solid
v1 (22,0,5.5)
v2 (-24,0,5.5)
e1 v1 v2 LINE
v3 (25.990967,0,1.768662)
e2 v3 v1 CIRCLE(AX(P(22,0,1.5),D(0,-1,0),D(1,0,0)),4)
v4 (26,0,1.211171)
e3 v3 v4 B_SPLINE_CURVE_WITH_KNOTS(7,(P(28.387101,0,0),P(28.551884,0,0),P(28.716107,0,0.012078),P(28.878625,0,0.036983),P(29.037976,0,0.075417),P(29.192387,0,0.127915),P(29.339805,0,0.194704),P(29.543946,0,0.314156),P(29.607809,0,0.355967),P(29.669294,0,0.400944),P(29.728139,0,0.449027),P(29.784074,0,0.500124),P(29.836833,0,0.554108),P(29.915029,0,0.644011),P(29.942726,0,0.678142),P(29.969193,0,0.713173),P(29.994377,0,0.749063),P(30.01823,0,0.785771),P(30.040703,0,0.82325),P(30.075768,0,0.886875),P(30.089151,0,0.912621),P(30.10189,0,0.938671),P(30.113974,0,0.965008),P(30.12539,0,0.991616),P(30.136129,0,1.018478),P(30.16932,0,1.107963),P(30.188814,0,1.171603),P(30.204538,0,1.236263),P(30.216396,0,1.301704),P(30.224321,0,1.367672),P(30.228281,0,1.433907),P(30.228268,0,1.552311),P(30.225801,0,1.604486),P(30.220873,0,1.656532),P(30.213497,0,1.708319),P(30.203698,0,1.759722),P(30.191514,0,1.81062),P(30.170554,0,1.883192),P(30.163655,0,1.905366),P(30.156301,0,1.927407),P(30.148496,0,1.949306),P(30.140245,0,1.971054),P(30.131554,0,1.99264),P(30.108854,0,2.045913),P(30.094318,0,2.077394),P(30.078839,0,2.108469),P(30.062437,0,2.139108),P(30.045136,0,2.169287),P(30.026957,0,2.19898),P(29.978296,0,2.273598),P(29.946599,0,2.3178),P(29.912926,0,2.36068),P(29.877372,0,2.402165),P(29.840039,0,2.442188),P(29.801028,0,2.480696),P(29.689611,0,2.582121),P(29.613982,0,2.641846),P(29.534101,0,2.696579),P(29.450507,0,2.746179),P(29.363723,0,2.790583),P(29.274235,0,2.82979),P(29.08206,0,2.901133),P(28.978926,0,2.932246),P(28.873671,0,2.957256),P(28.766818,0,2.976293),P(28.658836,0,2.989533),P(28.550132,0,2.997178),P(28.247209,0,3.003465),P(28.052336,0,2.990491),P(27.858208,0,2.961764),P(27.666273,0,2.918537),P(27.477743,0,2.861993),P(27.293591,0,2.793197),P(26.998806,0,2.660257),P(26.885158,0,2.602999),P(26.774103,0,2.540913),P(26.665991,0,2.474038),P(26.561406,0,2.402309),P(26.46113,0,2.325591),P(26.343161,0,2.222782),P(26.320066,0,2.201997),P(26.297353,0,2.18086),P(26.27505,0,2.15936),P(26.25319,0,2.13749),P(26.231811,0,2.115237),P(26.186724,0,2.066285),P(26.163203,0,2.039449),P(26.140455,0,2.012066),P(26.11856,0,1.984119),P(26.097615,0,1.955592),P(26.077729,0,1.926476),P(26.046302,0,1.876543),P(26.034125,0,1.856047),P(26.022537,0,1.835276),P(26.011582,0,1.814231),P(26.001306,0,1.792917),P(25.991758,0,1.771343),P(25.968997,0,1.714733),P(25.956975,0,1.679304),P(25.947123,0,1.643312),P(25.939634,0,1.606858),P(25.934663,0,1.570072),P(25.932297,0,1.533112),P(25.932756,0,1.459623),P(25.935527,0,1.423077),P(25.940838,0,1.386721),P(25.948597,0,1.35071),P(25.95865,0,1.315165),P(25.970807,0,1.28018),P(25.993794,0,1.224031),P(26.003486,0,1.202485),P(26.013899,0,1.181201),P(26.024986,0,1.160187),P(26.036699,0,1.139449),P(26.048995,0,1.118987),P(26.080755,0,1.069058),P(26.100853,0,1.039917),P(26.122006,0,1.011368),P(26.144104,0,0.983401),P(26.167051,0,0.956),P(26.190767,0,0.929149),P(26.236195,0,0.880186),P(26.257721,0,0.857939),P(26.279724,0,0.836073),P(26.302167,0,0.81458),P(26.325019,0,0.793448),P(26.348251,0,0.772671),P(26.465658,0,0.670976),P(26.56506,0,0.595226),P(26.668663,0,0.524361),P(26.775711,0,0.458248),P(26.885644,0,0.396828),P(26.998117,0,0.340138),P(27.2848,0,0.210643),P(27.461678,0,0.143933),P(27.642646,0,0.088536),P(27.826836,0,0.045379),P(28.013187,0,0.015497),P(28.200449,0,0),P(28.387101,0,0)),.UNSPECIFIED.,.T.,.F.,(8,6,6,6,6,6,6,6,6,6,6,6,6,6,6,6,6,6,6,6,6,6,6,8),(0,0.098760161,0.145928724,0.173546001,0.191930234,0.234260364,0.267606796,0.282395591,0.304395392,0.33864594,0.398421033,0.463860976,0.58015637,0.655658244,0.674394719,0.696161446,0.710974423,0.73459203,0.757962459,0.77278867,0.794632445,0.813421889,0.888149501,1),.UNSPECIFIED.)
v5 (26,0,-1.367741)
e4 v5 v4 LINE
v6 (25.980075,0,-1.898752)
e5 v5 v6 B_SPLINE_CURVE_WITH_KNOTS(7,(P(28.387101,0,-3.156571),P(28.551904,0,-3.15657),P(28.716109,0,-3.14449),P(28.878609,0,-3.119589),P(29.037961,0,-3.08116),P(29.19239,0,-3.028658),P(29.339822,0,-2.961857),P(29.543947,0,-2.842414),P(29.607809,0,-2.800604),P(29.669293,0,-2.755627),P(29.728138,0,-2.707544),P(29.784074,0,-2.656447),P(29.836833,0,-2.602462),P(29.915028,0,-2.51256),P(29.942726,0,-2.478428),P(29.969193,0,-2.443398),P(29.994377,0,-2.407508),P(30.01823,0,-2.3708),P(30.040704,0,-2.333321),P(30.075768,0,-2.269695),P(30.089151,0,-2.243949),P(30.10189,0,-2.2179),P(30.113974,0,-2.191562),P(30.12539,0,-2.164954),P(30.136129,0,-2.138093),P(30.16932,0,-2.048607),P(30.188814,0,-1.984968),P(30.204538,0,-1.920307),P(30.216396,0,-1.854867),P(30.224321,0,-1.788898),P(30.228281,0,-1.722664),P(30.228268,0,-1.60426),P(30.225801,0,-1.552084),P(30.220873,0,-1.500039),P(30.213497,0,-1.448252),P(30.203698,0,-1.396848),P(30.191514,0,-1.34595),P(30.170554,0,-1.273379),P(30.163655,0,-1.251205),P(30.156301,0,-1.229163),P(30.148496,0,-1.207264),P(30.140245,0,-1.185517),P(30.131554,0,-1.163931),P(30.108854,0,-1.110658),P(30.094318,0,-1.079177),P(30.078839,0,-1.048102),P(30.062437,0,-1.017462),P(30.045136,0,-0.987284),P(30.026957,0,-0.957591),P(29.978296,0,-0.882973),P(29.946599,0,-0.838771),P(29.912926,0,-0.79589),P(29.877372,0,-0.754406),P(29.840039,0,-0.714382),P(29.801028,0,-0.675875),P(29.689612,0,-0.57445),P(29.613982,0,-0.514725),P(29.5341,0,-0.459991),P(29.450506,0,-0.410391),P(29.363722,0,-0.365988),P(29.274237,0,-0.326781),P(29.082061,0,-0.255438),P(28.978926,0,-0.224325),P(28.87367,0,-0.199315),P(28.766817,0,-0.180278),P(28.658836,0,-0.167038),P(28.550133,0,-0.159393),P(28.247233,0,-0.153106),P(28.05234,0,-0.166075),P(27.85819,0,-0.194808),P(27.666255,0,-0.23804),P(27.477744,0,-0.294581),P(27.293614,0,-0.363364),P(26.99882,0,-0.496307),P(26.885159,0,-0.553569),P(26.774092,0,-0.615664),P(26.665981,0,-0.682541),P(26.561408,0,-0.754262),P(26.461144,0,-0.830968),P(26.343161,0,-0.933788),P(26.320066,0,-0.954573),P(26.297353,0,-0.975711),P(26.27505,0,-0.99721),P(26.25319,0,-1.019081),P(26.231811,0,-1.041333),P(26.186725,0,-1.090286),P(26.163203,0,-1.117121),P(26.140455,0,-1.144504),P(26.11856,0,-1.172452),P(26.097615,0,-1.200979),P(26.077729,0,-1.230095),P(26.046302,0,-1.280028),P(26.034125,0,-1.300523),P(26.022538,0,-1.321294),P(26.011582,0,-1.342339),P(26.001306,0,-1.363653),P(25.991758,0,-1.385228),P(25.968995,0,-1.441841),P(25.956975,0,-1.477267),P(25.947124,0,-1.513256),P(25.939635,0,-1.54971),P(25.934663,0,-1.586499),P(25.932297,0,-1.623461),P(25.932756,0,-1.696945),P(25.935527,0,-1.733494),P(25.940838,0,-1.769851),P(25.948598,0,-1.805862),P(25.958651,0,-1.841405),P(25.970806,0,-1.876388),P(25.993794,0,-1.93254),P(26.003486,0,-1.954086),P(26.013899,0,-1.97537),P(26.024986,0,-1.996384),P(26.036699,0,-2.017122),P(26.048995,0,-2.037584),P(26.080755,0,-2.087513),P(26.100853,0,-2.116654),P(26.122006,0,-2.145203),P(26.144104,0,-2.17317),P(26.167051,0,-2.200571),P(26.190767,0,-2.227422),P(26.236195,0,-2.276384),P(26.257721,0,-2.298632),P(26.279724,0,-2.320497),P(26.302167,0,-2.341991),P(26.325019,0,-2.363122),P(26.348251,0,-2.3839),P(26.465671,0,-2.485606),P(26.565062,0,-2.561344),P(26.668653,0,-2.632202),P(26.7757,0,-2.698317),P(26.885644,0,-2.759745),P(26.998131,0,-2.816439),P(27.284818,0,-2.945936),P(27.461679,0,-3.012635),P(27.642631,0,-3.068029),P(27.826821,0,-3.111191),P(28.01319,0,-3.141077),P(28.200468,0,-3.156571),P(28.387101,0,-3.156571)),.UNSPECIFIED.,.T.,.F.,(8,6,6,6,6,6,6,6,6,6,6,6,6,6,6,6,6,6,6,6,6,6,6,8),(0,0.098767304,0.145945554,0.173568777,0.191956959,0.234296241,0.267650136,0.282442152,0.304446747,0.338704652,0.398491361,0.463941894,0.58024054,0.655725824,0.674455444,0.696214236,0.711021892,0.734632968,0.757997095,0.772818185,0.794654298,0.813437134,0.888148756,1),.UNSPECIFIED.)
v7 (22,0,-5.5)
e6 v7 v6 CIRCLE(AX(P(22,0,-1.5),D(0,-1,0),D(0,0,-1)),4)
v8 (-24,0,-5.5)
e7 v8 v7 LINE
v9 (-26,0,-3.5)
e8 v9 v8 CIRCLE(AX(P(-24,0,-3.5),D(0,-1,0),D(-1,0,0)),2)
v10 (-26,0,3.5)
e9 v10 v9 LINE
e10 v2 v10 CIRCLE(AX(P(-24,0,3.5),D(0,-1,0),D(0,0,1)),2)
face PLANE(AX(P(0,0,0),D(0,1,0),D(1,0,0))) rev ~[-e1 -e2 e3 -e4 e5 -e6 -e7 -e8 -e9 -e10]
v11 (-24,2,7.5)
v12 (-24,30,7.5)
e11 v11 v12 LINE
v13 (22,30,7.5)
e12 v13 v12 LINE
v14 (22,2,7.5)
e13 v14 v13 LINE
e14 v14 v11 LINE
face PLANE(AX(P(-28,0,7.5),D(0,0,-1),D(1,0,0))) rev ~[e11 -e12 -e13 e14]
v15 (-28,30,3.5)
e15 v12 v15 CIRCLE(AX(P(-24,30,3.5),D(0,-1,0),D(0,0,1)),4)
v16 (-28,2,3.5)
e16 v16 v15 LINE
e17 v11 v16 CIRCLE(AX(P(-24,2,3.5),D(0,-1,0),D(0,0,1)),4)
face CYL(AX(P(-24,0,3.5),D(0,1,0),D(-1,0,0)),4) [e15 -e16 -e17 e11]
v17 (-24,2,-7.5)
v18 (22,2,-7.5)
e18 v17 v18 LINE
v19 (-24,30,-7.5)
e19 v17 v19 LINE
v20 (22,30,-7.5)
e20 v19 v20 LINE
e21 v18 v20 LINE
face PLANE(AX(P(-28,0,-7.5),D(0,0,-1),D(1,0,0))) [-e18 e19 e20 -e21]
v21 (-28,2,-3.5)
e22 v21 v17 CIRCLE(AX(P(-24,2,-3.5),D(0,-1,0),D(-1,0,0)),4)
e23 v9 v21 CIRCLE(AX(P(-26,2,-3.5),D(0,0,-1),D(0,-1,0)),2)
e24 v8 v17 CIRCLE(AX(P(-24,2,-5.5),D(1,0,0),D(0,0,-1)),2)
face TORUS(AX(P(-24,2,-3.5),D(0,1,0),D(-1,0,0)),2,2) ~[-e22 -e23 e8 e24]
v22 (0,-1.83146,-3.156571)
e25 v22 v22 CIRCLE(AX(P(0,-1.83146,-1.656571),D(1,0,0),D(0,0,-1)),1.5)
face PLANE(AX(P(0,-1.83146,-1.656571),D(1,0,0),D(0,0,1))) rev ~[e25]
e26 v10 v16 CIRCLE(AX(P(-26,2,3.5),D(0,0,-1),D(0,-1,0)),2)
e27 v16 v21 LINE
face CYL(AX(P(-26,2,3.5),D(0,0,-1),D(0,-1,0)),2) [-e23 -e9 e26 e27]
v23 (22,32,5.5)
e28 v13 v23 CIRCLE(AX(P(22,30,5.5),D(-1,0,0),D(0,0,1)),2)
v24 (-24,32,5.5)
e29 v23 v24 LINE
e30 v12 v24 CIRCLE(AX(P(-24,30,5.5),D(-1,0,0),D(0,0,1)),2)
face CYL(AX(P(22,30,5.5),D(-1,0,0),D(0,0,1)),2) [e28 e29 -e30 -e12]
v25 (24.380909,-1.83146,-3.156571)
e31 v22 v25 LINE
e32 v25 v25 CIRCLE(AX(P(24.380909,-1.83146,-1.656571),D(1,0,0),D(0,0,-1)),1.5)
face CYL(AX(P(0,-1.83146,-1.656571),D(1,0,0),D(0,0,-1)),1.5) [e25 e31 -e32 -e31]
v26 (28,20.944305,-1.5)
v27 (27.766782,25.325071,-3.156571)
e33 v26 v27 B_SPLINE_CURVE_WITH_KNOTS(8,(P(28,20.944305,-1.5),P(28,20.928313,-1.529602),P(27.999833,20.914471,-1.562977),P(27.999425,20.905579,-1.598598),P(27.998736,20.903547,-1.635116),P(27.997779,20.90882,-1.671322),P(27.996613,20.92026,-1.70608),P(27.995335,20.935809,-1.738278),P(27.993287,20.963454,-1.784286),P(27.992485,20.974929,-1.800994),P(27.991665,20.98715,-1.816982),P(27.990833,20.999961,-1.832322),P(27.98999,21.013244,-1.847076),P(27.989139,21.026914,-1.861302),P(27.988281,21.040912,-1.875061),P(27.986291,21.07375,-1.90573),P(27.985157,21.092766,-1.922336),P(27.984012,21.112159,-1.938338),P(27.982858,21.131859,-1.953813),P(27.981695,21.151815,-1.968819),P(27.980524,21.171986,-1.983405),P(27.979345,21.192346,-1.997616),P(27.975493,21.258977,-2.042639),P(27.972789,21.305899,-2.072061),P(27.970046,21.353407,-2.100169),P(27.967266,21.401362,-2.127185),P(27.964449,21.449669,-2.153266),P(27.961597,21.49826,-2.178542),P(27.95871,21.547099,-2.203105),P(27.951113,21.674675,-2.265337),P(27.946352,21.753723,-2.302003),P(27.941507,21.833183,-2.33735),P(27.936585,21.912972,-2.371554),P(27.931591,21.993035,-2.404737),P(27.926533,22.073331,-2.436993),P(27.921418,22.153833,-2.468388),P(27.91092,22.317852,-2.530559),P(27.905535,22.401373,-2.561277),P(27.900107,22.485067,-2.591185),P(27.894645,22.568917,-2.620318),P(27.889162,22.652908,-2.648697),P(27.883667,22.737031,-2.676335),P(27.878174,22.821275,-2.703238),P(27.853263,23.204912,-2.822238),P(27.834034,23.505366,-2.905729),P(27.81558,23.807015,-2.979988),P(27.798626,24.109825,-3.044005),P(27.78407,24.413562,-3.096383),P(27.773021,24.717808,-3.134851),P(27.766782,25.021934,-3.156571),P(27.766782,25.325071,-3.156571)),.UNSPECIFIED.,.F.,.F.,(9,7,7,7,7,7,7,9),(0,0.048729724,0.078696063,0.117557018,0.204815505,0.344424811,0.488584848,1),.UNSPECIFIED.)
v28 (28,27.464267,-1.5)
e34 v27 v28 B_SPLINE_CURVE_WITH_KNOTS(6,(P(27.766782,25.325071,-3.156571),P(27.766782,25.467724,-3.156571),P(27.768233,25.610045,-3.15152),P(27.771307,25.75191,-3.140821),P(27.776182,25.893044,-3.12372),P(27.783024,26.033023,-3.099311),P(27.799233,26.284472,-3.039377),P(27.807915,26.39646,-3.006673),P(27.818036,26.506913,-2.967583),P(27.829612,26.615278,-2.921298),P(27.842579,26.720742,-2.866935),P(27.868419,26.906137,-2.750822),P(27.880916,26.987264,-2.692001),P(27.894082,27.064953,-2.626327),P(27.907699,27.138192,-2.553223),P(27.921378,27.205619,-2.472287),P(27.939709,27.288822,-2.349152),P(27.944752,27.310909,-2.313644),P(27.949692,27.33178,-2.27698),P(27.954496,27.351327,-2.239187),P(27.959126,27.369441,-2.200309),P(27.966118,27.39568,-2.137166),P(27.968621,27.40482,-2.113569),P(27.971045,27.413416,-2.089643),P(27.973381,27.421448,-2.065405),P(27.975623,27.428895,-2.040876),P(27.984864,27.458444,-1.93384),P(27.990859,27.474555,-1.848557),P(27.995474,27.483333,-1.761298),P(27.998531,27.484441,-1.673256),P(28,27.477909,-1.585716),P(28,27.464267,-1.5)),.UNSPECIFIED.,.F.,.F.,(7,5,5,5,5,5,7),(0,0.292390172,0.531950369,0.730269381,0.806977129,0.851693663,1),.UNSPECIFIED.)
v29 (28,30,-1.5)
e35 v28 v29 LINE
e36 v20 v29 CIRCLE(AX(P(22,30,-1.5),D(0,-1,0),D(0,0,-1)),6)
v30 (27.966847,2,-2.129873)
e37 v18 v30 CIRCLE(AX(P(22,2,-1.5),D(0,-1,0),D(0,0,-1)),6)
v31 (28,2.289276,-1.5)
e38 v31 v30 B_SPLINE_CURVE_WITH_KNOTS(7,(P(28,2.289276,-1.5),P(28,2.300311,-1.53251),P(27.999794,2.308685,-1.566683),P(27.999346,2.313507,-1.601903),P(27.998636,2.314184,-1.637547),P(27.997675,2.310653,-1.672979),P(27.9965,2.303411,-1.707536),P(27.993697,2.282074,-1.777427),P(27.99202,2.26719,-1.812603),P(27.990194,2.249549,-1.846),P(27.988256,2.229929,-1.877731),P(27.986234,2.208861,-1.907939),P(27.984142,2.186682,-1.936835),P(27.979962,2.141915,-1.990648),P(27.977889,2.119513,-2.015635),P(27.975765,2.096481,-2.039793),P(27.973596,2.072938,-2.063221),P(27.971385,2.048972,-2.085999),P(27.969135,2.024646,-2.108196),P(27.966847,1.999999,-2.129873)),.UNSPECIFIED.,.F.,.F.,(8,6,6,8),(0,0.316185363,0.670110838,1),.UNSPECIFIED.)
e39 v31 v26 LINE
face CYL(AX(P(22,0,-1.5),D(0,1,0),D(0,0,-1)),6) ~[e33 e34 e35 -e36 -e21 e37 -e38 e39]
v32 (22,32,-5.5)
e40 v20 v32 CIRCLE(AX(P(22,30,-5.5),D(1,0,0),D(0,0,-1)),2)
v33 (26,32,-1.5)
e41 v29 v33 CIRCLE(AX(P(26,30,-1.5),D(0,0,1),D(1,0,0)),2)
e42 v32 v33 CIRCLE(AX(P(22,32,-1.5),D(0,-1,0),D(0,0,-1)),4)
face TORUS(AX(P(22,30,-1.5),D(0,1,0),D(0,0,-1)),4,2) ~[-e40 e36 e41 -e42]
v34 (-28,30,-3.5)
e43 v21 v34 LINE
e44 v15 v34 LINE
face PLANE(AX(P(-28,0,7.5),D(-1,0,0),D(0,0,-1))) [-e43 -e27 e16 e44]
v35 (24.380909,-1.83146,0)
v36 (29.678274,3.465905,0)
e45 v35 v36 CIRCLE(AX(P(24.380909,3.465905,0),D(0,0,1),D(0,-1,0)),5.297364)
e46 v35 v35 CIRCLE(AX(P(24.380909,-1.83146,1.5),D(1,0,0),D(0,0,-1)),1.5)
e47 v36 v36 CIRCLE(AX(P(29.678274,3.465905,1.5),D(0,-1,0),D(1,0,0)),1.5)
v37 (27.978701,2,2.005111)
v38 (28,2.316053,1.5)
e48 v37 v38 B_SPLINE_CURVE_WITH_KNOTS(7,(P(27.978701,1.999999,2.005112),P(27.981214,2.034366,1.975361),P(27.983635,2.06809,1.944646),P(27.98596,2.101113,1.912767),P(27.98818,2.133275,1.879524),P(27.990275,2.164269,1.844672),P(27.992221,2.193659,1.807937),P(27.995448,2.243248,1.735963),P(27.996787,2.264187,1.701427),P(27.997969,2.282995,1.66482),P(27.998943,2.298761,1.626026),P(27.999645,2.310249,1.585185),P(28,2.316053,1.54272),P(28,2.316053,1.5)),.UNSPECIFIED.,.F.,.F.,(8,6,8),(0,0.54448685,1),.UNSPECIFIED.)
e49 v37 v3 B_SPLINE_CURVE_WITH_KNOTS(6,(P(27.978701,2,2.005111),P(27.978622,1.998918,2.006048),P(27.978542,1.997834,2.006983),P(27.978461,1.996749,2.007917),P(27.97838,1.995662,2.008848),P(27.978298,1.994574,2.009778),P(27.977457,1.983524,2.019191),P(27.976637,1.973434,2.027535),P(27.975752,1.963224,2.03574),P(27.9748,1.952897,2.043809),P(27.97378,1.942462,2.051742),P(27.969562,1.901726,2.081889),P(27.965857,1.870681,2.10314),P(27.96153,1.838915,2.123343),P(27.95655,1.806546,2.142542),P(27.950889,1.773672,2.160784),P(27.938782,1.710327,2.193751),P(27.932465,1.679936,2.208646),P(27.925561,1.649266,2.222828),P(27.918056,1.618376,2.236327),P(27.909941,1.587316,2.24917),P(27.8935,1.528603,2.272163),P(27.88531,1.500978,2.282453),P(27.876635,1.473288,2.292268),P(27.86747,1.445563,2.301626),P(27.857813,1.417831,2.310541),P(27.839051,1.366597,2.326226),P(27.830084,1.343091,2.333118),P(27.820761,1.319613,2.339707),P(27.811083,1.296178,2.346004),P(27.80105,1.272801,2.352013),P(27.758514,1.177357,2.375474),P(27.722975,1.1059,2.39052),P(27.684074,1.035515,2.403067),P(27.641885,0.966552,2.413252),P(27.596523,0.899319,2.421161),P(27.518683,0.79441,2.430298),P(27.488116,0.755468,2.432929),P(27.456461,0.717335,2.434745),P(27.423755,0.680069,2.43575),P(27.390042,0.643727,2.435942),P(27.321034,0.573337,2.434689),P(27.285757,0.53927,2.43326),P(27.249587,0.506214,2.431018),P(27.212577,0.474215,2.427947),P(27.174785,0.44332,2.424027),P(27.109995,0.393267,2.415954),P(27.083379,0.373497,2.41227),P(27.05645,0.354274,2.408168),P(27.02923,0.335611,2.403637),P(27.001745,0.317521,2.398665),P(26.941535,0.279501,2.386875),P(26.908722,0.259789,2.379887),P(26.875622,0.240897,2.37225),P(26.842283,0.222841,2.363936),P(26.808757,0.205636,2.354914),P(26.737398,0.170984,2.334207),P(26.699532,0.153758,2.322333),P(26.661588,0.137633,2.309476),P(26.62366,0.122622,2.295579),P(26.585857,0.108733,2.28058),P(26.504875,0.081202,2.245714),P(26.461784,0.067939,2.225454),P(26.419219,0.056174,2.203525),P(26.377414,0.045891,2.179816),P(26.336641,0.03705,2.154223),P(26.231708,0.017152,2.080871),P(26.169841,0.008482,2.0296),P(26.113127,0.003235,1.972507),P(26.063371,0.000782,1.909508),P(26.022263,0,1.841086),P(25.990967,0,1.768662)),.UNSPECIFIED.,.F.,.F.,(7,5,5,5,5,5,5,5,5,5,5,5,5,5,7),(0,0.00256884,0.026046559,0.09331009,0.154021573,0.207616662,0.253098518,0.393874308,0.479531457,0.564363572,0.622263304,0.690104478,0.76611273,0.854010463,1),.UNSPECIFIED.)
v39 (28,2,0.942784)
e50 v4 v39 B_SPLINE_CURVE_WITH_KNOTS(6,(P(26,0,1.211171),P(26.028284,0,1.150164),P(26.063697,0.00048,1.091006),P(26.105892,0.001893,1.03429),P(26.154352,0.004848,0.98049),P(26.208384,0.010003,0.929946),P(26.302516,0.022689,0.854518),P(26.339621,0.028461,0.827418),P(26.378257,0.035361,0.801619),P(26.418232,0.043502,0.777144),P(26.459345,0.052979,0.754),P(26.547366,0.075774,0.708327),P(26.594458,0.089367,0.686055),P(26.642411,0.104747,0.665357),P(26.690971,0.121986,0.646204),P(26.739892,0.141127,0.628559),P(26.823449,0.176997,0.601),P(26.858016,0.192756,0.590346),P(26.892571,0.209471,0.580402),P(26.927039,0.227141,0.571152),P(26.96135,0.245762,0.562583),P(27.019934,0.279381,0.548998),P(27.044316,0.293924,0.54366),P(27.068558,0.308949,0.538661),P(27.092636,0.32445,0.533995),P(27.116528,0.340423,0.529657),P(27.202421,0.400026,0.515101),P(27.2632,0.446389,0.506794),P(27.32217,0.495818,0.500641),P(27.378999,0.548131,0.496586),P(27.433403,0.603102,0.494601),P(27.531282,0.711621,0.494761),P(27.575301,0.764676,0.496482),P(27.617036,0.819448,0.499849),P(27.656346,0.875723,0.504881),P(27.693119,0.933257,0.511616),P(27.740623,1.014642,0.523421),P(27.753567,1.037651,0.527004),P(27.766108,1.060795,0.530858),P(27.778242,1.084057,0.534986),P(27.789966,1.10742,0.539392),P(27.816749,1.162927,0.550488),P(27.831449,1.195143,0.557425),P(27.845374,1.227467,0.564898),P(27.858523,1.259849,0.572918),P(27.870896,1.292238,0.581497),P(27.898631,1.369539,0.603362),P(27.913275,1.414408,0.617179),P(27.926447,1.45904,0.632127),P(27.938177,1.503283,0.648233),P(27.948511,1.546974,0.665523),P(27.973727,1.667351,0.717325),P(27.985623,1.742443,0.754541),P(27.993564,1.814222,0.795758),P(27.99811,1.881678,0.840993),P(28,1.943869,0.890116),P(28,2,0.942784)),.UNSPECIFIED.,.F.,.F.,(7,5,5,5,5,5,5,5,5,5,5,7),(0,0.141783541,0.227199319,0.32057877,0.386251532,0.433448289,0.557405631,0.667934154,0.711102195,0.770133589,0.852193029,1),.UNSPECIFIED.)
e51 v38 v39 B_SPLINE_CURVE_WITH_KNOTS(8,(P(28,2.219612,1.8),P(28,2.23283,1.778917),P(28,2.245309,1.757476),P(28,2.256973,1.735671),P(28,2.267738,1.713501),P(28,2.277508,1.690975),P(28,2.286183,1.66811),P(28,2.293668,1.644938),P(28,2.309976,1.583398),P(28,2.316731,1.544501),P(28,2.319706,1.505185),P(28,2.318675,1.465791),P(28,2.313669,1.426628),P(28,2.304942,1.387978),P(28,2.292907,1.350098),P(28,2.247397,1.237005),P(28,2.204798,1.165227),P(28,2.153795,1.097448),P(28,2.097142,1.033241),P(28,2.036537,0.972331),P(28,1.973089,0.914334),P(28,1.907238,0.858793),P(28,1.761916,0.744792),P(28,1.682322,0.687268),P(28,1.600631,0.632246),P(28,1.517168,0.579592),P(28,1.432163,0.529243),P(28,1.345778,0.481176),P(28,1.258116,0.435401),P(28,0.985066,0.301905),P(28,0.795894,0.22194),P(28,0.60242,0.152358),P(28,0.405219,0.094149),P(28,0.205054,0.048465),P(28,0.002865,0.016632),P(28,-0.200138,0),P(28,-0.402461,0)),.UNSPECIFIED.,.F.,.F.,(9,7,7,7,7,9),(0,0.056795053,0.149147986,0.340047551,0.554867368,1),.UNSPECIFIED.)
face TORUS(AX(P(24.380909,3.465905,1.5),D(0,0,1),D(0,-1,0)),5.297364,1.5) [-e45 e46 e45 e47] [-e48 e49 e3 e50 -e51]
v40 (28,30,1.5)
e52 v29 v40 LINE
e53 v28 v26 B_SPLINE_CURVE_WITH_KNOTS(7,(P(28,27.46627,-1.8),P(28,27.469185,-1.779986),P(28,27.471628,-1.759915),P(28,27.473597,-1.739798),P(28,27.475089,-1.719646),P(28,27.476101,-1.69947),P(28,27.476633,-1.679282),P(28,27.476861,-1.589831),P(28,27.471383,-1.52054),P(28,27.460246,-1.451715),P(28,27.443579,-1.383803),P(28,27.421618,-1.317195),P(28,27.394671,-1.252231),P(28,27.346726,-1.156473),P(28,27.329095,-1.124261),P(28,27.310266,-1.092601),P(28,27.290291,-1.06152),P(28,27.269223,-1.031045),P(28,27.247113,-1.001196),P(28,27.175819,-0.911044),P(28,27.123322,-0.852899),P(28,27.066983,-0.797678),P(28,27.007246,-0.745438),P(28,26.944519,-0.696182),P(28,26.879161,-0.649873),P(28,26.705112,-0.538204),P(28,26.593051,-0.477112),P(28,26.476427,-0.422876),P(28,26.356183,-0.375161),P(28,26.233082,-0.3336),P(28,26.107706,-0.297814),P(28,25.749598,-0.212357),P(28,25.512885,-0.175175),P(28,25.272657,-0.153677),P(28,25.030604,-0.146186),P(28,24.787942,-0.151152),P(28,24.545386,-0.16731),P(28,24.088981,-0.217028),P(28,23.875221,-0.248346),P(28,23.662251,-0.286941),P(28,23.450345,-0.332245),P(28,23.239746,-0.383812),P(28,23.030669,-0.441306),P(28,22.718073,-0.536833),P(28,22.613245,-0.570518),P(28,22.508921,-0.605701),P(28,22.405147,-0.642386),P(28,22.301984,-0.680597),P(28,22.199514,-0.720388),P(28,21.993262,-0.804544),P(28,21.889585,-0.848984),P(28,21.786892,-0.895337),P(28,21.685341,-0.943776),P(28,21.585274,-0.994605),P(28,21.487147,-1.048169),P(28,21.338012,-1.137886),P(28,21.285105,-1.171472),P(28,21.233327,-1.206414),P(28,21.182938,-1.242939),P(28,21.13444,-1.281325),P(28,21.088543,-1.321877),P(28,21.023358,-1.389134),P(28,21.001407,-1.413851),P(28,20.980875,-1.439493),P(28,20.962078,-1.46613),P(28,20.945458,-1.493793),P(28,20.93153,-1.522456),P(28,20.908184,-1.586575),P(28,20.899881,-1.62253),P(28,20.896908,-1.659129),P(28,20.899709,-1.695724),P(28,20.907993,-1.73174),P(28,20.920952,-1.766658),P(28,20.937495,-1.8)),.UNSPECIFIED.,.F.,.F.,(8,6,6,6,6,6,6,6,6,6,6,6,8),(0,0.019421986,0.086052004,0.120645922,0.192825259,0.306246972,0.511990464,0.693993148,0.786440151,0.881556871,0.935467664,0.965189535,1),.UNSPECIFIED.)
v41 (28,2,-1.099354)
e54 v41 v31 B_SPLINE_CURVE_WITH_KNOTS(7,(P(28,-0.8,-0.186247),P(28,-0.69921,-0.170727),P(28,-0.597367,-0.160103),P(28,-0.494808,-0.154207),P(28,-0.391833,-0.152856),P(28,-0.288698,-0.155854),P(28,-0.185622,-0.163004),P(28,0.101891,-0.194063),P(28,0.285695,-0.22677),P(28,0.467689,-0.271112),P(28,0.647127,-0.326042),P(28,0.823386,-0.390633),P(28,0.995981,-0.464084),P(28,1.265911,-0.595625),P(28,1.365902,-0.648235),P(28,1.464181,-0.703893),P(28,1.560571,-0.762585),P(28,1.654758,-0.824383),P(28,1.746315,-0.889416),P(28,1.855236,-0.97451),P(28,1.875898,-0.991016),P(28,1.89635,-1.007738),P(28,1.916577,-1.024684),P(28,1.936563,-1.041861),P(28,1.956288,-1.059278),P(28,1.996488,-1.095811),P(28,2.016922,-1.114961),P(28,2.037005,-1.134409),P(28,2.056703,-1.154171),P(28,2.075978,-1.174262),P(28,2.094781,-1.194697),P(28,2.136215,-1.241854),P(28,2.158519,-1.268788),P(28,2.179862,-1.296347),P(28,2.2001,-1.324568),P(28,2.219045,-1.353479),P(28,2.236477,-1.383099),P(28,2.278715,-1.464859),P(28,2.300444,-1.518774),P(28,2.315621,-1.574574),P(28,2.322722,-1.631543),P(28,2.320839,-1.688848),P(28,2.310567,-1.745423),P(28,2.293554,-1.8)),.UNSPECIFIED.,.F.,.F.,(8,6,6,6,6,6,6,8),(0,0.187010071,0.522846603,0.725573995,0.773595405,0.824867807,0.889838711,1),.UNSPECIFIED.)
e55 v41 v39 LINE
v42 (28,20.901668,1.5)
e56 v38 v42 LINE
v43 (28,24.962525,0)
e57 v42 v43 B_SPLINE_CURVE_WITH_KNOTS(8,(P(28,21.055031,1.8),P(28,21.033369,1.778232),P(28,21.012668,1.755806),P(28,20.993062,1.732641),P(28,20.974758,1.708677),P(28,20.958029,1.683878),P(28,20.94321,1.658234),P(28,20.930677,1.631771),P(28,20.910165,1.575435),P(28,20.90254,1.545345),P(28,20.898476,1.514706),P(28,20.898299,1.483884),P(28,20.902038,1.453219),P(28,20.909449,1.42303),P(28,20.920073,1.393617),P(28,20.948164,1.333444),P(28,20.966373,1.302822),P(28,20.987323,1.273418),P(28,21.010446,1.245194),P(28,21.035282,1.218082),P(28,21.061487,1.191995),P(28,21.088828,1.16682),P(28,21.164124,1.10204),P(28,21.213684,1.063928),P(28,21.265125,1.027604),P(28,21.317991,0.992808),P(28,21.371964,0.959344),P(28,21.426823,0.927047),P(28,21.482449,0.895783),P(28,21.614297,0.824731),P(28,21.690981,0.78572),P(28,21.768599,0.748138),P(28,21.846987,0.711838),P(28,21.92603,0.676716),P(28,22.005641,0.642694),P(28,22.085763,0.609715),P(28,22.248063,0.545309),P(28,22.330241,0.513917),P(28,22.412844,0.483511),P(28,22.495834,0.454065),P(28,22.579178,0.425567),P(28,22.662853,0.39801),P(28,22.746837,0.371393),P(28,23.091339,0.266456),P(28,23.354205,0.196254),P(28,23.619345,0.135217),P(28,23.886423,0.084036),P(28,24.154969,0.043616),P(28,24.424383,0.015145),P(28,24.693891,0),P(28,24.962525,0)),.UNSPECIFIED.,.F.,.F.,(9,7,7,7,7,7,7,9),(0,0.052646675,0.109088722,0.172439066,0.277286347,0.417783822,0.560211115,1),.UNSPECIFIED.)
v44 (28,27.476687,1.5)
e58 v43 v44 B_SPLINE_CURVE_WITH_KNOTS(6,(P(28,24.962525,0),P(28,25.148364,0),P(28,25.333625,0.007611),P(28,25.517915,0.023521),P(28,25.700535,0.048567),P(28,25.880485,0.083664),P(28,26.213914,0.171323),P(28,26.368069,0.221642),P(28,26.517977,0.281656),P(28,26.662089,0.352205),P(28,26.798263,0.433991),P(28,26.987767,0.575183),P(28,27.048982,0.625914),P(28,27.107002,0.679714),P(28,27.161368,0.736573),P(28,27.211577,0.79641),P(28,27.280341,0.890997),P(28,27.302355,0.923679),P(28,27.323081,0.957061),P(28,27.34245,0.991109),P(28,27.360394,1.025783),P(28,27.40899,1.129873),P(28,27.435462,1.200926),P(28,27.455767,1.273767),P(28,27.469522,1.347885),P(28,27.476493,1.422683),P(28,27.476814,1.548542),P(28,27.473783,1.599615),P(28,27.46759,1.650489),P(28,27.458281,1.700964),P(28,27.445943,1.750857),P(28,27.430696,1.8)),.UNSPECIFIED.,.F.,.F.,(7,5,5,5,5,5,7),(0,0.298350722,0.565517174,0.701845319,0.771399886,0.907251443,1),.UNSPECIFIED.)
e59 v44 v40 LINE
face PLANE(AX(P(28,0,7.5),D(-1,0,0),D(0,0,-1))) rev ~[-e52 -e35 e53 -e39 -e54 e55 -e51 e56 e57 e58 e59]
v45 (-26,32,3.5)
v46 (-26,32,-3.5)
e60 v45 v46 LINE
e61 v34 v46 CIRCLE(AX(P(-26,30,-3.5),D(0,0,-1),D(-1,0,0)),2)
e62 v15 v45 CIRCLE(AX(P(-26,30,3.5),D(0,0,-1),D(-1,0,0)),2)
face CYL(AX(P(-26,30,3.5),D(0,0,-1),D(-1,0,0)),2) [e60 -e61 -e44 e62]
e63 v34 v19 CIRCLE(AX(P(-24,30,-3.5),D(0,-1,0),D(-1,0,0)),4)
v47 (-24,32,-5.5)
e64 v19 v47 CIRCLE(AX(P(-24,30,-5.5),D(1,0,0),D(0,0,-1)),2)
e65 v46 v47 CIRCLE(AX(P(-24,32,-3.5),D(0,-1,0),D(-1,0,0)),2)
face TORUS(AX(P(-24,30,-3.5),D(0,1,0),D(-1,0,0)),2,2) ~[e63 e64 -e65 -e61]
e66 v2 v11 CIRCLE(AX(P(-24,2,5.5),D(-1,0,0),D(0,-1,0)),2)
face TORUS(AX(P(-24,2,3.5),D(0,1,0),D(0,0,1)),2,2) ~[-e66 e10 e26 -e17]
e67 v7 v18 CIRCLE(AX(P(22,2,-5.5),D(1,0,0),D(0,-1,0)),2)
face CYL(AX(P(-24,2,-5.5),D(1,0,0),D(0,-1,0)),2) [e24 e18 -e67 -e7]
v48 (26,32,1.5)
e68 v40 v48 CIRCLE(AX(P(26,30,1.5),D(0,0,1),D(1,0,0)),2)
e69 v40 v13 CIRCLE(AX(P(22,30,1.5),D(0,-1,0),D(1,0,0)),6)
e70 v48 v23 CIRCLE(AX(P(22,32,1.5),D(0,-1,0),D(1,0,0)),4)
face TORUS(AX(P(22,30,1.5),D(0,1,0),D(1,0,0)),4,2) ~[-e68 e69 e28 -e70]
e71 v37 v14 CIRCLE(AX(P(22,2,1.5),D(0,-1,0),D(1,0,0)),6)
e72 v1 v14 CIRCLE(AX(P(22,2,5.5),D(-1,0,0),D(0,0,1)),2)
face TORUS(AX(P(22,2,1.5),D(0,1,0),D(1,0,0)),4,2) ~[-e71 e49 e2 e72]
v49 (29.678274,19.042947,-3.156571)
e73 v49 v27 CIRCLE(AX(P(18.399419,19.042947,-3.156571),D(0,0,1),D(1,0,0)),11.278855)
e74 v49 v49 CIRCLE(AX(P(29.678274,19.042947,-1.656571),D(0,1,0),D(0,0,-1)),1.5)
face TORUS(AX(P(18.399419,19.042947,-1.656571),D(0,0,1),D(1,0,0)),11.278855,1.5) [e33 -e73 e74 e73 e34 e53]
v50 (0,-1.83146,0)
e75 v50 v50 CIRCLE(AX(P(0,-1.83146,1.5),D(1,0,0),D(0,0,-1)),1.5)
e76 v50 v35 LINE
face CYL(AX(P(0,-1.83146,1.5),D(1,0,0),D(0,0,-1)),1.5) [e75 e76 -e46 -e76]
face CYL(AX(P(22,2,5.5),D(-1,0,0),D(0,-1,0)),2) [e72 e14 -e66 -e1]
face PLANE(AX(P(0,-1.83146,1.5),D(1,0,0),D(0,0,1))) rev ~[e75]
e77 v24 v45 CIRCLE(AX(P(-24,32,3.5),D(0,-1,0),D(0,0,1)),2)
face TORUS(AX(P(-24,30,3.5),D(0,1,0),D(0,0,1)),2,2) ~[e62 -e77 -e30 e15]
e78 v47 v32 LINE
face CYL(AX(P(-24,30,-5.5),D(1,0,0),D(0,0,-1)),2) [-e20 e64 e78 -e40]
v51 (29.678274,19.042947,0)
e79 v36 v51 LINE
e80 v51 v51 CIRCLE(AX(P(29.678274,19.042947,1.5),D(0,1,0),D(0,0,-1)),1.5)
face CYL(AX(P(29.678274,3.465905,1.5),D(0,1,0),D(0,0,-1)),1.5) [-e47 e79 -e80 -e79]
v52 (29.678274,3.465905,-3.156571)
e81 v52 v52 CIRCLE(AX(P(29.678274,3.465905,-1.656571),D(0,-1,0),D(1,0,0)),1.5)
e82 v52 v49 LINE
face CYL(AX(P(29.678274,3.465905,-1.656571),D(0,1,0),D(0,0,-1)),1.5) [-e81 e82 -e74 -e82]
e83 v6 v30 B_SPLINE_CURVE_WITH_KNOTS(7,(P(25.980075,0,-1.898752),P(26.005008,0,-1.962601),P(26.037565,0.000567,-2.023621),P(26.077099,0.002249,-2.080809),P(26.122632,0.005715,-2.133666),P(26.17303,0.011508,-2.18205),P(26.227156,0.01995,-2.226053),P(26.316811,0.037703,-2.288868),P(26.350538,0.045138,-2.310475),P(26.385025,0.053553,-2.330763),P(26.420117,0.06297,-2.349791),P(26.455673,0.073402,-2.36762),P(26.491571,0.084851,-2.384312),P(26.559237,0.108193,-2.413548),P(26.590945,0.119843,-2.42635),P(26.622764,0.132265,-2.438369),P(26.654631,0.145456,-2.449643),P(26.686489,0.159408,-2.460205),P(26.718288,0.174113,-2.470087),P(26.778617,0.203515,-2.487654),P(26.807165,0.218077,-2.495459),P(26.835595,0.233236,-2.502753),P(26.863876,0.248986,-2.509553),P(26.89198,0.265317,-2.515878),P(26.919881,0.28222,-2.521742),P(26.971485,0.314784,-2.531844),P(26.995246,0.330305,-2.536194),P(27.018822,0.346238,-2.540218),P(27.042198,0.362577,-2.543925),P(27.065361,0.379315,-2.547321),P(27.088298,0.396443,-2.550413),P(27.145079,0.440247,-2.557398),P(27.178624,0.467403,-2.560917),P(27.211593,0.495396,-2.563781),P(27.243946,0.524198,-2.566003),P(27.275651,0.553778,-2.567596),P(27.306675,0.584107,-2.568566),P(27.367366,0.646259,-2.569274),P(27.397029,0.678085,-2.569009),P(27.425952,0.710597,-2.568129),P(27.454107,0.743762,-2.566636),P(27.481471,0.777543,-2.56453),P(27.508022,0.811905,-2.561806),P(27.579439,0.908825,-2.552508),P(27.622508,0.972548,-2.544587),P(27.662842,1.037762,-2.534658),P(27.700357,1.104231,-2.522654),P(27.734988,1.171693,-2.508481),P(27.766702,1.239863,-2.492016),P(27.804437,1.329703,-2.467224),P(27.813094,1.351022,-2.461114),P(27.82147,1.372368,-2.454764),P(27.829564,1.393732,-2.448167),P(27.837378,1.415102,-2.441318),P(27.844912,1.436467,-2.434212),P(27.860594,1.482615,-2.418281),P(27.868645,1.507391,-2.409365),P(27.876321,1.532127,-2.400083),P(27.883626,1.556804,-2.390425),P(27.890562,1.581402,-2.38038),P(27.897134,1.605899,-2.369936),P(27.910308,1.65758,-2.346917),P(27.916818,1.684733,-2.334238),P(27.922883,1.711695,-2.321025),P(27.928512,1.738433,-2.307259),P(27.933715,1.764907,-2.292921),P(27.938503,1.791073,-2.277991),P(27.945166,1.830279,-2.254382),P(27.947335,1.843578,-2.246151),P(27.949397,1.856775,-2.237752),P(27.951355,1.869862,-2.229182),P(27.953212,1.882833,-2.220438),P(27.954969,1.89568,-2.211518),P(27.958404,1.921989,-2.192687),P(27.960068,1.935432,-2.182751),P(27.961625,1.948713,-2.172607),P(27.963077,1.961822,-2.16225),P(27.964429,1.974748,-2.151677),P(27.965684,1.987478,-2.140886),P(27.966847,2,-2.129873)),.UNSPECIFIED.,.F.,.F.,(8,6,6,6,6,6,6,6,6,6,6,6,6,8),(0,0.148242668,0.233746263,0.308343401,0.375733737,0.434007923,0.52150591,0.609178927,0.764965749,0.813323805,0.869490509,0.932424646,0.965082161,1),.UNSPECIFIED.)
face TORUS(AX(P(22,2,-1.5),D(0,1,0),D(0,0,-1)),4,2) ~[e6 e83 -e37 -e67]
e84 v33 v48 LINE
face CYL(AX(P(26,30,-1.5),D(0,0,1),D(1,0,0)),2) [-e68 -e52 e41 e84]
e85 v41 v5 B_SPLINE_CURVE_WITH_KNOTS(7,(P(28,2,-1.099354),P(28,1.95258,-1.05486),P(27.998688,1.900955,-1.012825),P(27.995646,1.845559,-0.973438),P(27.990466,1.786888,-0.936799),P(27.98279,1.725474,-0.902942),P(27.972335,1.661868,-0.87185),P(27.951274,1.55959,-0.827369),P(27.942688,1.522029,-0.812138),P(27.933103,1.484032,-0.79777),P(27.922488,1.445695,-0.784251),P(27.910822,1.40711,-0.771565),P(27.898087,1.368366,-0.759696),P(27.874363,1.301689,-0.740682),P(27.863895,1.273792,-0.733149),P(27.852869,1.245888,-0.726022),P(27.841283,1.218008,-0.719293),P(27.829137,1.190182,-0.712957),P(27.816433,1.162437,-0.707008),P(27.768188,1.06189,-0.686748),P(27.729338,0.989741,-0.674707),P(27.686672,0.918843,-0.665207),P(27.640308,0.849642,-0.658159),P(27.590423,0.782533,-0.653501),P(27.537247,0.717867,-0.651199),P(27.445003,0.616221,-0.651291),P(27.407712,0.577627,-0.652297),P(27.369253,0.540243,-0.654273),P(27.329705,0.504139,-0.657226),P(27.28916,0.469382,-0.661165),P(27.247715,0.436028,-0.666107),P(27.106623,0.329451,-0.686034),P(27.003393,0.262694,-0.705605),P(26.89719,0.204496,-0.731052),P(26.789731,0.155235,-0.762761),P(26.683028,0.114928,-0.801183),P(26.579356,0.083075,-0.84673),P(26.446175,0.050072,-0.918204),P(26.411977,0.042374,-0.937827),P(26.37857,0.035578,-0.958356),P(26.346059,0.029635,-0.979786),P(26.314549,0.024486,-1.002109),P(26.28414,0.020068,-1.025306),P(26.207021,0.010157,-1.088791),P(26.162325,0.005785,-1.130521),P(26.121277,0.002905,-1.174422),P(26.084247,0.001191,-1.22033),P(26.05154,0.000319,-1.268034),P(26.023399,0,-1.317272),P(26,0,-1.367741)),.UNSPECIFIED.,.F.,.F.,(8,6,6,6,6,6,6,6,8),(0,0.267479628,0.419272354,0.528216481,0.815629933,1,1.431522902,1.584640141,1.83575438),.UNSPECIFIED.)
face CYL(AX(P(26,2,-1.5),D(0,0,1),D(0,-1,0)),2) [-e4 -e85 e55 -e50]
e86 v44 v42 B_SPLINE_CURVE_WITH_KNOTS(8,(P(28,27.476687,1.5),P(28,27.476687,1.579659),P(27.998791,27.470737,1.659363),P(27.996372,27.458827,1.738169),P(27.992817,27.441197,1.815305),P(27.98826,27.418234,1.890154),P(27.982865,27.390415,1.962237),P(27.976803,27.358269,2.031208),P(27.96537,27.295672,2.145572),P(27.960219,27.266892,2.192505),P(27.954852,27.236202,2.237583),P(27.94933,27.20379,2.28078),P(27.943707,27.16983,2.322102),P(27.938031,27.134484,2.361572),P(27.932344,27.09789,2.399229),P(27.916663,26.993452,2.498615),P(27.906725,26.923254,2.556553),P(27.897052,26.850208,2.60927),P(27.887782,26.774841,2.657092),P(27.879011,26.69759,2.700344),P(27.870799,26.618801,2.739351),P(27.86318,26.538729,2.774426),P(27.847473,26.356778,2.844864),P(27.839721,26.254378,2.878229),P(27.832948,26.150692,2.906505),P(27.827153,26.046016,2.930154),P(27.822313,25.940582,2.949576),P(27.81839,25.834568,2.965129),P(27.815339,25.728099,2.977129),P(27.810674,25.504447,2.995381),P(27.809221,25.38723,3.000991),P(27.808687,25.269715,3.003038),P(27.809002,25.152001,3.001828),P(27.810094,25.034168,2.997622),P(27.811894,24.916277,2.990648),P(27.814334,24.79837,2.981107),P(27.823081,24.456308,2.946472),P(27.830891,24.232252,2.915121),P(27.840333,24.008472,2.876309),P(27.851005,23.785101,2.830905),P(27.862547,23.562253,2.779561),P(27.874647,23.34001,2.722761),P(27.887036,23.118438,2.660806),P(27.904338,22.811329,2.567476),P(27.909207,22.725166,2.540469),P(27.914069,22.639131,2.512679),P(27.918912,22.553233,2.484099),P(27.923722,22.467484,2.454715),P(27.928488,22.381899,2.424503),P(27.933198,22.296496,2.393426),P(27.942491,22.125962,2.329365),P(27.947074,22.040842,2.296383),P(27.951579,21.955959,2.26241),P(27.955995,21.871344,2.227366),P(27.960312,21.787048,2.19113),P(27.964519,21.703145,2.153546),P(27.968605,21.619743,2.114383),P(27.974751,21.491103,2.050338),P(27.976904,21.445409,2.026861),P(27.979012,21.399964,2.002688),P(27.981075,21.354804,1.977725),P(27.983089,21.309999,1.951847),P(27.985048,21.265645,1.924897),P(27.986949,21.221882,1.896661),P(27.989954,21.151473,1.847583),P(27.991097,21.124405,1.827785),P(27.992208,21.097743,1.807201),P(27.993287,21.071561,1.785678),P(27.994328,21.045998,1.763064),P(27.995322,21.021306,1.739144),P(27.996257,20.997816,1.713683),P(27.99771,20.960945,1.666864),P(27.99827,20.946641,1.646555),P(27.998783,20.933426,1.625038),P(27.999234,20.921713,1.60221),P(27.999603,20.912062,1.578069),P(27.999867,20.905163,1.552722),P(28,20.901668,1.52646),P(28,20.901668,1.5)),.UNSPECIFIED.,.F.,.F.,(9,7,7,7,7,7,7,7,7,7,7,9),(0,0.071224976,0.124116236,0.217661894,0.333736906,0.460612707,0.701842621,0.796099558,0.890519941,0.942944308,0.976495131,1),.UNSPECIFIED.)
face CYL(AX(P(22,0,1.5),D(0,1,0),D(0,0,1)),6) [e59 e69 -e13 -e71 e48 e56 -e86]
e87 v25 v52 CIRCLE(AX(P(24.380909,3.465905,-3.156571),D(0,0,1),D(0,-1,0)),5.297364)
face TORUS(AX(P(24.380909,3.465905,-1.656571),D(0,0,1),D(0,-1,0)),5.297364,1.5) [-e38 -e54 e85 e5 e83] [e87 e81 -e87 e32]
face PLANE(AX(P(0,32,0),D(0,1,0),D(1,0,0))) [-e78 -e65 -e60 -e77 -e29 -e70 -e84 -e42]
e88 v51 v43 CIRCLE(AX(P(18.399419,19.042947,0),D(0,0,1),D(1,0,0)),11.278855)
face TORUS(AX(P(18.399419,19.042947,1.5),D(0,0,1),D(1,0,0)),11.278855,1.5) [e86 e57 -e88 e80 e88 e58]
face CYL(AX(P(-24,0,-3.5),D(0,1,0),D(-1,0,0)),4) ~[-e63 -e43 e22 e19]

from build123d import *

# Parameters (mm, degrees)
SKETCH1_W           = 56
SKETCH1_H           = 15
BOSS_EXTRUDE1_DEPTH = 32
FILLET1_R           = 4
FILLET2_R           = 6
FILLET3_R           = 2
SKETCH4_R           = 1.5


with BuildPart() as part:
    # Sketch1 → Boss-Extrude1 (new body)
    with BuildSketch(Plane(origin=(0, 0, 0), x_dir=(1, 0, 0), z_dir=(0, 1, 0))):
        Rectangle(SKETCH1_W, SKETCH1_H)
    extrude(amount=BOSS_EXTRUDE1_DEPTH)

    # Fillet1
    fillet1_edges = [part.edges().sort_by_distance(p)[0] for p in [
        (-28, 16, 7.5),
        (-28, 16, -7.5),
    ]]
    fillet(fillet1_edges, radius=FILLET1_R)

    # Fillet2
    fillet2_edges = [part.edges().sort_by_distance(p)[0] for p in [
        (28, 16, 7.5),
        (28, 16, -7.5),
    ]]
    fillet(fillet2_edges, radius=FILLET2_R)

    # Fillet3
    fillet3_edges = [part.edges().sort_by_distance(p)[0] for p in [
        (-28, 0, 0),
        (-28, 32, 0),
        (-1, 0, 7.5),
        (-26.828427125, 0, 6.328427125),
        (-26.828427125, 0, -6.328427125),
        (-1, 32, 7.5),
        (-26.828427125, 32, 6.328427125),
        (-26.828427125, 32, -6.328427125),
        (-1, 0, -7.5),
        (-1, 32, -7.5),
        (28, 0, 0),
        (26.242640687, 0, 5.742640687),
        (26.242640687, 0, -5.742640687),
        (28, 32, 0),
        (26.242640687, 32, 5.742640687),
        (26.242640687, 32, -5.742640687),
    ]]
    fillet(fillet3_edges, radius=FILLET3_R)

    # Sweep2: sweep along a path in Sketch3
    with BuildLine(Plane(origin=(0, 0, -7.5), x_dir=(-1, 0, 0), z_dir=(0, 0, -1))) as sweep2_path:
        Line((0, -2.523571647), (-24.380909243, -2.523571647))
        ThreePointArc((-24.380909243, -2.523571647), (-28.616108457, -0.769294693), (-30.370385411, 3.465904521))
        Line((-30.370385411, 3.465904521), (-30.370385411, 19.042947176))
        ThreePointArc((-30.370385411, 19.042947176), (-28.424943012, 25.584575861), (-23.220936705, 30))
    # Sketch4 → Sweep2 (sweep)
    with BuildSketch(Plane(origin=(0, 0, 0), x_dir=(0, 0, -1), z_dir=(1, 0, 0))):
        with Locations((1.656570637, -1.831459883)):
            Circle(SKETCH4_R)
        with Locations((-1.5, -1.831459883)):
            Circle(SKETCH4_R)
    sweep(path=sweep2_path.line)


solid = part.part
